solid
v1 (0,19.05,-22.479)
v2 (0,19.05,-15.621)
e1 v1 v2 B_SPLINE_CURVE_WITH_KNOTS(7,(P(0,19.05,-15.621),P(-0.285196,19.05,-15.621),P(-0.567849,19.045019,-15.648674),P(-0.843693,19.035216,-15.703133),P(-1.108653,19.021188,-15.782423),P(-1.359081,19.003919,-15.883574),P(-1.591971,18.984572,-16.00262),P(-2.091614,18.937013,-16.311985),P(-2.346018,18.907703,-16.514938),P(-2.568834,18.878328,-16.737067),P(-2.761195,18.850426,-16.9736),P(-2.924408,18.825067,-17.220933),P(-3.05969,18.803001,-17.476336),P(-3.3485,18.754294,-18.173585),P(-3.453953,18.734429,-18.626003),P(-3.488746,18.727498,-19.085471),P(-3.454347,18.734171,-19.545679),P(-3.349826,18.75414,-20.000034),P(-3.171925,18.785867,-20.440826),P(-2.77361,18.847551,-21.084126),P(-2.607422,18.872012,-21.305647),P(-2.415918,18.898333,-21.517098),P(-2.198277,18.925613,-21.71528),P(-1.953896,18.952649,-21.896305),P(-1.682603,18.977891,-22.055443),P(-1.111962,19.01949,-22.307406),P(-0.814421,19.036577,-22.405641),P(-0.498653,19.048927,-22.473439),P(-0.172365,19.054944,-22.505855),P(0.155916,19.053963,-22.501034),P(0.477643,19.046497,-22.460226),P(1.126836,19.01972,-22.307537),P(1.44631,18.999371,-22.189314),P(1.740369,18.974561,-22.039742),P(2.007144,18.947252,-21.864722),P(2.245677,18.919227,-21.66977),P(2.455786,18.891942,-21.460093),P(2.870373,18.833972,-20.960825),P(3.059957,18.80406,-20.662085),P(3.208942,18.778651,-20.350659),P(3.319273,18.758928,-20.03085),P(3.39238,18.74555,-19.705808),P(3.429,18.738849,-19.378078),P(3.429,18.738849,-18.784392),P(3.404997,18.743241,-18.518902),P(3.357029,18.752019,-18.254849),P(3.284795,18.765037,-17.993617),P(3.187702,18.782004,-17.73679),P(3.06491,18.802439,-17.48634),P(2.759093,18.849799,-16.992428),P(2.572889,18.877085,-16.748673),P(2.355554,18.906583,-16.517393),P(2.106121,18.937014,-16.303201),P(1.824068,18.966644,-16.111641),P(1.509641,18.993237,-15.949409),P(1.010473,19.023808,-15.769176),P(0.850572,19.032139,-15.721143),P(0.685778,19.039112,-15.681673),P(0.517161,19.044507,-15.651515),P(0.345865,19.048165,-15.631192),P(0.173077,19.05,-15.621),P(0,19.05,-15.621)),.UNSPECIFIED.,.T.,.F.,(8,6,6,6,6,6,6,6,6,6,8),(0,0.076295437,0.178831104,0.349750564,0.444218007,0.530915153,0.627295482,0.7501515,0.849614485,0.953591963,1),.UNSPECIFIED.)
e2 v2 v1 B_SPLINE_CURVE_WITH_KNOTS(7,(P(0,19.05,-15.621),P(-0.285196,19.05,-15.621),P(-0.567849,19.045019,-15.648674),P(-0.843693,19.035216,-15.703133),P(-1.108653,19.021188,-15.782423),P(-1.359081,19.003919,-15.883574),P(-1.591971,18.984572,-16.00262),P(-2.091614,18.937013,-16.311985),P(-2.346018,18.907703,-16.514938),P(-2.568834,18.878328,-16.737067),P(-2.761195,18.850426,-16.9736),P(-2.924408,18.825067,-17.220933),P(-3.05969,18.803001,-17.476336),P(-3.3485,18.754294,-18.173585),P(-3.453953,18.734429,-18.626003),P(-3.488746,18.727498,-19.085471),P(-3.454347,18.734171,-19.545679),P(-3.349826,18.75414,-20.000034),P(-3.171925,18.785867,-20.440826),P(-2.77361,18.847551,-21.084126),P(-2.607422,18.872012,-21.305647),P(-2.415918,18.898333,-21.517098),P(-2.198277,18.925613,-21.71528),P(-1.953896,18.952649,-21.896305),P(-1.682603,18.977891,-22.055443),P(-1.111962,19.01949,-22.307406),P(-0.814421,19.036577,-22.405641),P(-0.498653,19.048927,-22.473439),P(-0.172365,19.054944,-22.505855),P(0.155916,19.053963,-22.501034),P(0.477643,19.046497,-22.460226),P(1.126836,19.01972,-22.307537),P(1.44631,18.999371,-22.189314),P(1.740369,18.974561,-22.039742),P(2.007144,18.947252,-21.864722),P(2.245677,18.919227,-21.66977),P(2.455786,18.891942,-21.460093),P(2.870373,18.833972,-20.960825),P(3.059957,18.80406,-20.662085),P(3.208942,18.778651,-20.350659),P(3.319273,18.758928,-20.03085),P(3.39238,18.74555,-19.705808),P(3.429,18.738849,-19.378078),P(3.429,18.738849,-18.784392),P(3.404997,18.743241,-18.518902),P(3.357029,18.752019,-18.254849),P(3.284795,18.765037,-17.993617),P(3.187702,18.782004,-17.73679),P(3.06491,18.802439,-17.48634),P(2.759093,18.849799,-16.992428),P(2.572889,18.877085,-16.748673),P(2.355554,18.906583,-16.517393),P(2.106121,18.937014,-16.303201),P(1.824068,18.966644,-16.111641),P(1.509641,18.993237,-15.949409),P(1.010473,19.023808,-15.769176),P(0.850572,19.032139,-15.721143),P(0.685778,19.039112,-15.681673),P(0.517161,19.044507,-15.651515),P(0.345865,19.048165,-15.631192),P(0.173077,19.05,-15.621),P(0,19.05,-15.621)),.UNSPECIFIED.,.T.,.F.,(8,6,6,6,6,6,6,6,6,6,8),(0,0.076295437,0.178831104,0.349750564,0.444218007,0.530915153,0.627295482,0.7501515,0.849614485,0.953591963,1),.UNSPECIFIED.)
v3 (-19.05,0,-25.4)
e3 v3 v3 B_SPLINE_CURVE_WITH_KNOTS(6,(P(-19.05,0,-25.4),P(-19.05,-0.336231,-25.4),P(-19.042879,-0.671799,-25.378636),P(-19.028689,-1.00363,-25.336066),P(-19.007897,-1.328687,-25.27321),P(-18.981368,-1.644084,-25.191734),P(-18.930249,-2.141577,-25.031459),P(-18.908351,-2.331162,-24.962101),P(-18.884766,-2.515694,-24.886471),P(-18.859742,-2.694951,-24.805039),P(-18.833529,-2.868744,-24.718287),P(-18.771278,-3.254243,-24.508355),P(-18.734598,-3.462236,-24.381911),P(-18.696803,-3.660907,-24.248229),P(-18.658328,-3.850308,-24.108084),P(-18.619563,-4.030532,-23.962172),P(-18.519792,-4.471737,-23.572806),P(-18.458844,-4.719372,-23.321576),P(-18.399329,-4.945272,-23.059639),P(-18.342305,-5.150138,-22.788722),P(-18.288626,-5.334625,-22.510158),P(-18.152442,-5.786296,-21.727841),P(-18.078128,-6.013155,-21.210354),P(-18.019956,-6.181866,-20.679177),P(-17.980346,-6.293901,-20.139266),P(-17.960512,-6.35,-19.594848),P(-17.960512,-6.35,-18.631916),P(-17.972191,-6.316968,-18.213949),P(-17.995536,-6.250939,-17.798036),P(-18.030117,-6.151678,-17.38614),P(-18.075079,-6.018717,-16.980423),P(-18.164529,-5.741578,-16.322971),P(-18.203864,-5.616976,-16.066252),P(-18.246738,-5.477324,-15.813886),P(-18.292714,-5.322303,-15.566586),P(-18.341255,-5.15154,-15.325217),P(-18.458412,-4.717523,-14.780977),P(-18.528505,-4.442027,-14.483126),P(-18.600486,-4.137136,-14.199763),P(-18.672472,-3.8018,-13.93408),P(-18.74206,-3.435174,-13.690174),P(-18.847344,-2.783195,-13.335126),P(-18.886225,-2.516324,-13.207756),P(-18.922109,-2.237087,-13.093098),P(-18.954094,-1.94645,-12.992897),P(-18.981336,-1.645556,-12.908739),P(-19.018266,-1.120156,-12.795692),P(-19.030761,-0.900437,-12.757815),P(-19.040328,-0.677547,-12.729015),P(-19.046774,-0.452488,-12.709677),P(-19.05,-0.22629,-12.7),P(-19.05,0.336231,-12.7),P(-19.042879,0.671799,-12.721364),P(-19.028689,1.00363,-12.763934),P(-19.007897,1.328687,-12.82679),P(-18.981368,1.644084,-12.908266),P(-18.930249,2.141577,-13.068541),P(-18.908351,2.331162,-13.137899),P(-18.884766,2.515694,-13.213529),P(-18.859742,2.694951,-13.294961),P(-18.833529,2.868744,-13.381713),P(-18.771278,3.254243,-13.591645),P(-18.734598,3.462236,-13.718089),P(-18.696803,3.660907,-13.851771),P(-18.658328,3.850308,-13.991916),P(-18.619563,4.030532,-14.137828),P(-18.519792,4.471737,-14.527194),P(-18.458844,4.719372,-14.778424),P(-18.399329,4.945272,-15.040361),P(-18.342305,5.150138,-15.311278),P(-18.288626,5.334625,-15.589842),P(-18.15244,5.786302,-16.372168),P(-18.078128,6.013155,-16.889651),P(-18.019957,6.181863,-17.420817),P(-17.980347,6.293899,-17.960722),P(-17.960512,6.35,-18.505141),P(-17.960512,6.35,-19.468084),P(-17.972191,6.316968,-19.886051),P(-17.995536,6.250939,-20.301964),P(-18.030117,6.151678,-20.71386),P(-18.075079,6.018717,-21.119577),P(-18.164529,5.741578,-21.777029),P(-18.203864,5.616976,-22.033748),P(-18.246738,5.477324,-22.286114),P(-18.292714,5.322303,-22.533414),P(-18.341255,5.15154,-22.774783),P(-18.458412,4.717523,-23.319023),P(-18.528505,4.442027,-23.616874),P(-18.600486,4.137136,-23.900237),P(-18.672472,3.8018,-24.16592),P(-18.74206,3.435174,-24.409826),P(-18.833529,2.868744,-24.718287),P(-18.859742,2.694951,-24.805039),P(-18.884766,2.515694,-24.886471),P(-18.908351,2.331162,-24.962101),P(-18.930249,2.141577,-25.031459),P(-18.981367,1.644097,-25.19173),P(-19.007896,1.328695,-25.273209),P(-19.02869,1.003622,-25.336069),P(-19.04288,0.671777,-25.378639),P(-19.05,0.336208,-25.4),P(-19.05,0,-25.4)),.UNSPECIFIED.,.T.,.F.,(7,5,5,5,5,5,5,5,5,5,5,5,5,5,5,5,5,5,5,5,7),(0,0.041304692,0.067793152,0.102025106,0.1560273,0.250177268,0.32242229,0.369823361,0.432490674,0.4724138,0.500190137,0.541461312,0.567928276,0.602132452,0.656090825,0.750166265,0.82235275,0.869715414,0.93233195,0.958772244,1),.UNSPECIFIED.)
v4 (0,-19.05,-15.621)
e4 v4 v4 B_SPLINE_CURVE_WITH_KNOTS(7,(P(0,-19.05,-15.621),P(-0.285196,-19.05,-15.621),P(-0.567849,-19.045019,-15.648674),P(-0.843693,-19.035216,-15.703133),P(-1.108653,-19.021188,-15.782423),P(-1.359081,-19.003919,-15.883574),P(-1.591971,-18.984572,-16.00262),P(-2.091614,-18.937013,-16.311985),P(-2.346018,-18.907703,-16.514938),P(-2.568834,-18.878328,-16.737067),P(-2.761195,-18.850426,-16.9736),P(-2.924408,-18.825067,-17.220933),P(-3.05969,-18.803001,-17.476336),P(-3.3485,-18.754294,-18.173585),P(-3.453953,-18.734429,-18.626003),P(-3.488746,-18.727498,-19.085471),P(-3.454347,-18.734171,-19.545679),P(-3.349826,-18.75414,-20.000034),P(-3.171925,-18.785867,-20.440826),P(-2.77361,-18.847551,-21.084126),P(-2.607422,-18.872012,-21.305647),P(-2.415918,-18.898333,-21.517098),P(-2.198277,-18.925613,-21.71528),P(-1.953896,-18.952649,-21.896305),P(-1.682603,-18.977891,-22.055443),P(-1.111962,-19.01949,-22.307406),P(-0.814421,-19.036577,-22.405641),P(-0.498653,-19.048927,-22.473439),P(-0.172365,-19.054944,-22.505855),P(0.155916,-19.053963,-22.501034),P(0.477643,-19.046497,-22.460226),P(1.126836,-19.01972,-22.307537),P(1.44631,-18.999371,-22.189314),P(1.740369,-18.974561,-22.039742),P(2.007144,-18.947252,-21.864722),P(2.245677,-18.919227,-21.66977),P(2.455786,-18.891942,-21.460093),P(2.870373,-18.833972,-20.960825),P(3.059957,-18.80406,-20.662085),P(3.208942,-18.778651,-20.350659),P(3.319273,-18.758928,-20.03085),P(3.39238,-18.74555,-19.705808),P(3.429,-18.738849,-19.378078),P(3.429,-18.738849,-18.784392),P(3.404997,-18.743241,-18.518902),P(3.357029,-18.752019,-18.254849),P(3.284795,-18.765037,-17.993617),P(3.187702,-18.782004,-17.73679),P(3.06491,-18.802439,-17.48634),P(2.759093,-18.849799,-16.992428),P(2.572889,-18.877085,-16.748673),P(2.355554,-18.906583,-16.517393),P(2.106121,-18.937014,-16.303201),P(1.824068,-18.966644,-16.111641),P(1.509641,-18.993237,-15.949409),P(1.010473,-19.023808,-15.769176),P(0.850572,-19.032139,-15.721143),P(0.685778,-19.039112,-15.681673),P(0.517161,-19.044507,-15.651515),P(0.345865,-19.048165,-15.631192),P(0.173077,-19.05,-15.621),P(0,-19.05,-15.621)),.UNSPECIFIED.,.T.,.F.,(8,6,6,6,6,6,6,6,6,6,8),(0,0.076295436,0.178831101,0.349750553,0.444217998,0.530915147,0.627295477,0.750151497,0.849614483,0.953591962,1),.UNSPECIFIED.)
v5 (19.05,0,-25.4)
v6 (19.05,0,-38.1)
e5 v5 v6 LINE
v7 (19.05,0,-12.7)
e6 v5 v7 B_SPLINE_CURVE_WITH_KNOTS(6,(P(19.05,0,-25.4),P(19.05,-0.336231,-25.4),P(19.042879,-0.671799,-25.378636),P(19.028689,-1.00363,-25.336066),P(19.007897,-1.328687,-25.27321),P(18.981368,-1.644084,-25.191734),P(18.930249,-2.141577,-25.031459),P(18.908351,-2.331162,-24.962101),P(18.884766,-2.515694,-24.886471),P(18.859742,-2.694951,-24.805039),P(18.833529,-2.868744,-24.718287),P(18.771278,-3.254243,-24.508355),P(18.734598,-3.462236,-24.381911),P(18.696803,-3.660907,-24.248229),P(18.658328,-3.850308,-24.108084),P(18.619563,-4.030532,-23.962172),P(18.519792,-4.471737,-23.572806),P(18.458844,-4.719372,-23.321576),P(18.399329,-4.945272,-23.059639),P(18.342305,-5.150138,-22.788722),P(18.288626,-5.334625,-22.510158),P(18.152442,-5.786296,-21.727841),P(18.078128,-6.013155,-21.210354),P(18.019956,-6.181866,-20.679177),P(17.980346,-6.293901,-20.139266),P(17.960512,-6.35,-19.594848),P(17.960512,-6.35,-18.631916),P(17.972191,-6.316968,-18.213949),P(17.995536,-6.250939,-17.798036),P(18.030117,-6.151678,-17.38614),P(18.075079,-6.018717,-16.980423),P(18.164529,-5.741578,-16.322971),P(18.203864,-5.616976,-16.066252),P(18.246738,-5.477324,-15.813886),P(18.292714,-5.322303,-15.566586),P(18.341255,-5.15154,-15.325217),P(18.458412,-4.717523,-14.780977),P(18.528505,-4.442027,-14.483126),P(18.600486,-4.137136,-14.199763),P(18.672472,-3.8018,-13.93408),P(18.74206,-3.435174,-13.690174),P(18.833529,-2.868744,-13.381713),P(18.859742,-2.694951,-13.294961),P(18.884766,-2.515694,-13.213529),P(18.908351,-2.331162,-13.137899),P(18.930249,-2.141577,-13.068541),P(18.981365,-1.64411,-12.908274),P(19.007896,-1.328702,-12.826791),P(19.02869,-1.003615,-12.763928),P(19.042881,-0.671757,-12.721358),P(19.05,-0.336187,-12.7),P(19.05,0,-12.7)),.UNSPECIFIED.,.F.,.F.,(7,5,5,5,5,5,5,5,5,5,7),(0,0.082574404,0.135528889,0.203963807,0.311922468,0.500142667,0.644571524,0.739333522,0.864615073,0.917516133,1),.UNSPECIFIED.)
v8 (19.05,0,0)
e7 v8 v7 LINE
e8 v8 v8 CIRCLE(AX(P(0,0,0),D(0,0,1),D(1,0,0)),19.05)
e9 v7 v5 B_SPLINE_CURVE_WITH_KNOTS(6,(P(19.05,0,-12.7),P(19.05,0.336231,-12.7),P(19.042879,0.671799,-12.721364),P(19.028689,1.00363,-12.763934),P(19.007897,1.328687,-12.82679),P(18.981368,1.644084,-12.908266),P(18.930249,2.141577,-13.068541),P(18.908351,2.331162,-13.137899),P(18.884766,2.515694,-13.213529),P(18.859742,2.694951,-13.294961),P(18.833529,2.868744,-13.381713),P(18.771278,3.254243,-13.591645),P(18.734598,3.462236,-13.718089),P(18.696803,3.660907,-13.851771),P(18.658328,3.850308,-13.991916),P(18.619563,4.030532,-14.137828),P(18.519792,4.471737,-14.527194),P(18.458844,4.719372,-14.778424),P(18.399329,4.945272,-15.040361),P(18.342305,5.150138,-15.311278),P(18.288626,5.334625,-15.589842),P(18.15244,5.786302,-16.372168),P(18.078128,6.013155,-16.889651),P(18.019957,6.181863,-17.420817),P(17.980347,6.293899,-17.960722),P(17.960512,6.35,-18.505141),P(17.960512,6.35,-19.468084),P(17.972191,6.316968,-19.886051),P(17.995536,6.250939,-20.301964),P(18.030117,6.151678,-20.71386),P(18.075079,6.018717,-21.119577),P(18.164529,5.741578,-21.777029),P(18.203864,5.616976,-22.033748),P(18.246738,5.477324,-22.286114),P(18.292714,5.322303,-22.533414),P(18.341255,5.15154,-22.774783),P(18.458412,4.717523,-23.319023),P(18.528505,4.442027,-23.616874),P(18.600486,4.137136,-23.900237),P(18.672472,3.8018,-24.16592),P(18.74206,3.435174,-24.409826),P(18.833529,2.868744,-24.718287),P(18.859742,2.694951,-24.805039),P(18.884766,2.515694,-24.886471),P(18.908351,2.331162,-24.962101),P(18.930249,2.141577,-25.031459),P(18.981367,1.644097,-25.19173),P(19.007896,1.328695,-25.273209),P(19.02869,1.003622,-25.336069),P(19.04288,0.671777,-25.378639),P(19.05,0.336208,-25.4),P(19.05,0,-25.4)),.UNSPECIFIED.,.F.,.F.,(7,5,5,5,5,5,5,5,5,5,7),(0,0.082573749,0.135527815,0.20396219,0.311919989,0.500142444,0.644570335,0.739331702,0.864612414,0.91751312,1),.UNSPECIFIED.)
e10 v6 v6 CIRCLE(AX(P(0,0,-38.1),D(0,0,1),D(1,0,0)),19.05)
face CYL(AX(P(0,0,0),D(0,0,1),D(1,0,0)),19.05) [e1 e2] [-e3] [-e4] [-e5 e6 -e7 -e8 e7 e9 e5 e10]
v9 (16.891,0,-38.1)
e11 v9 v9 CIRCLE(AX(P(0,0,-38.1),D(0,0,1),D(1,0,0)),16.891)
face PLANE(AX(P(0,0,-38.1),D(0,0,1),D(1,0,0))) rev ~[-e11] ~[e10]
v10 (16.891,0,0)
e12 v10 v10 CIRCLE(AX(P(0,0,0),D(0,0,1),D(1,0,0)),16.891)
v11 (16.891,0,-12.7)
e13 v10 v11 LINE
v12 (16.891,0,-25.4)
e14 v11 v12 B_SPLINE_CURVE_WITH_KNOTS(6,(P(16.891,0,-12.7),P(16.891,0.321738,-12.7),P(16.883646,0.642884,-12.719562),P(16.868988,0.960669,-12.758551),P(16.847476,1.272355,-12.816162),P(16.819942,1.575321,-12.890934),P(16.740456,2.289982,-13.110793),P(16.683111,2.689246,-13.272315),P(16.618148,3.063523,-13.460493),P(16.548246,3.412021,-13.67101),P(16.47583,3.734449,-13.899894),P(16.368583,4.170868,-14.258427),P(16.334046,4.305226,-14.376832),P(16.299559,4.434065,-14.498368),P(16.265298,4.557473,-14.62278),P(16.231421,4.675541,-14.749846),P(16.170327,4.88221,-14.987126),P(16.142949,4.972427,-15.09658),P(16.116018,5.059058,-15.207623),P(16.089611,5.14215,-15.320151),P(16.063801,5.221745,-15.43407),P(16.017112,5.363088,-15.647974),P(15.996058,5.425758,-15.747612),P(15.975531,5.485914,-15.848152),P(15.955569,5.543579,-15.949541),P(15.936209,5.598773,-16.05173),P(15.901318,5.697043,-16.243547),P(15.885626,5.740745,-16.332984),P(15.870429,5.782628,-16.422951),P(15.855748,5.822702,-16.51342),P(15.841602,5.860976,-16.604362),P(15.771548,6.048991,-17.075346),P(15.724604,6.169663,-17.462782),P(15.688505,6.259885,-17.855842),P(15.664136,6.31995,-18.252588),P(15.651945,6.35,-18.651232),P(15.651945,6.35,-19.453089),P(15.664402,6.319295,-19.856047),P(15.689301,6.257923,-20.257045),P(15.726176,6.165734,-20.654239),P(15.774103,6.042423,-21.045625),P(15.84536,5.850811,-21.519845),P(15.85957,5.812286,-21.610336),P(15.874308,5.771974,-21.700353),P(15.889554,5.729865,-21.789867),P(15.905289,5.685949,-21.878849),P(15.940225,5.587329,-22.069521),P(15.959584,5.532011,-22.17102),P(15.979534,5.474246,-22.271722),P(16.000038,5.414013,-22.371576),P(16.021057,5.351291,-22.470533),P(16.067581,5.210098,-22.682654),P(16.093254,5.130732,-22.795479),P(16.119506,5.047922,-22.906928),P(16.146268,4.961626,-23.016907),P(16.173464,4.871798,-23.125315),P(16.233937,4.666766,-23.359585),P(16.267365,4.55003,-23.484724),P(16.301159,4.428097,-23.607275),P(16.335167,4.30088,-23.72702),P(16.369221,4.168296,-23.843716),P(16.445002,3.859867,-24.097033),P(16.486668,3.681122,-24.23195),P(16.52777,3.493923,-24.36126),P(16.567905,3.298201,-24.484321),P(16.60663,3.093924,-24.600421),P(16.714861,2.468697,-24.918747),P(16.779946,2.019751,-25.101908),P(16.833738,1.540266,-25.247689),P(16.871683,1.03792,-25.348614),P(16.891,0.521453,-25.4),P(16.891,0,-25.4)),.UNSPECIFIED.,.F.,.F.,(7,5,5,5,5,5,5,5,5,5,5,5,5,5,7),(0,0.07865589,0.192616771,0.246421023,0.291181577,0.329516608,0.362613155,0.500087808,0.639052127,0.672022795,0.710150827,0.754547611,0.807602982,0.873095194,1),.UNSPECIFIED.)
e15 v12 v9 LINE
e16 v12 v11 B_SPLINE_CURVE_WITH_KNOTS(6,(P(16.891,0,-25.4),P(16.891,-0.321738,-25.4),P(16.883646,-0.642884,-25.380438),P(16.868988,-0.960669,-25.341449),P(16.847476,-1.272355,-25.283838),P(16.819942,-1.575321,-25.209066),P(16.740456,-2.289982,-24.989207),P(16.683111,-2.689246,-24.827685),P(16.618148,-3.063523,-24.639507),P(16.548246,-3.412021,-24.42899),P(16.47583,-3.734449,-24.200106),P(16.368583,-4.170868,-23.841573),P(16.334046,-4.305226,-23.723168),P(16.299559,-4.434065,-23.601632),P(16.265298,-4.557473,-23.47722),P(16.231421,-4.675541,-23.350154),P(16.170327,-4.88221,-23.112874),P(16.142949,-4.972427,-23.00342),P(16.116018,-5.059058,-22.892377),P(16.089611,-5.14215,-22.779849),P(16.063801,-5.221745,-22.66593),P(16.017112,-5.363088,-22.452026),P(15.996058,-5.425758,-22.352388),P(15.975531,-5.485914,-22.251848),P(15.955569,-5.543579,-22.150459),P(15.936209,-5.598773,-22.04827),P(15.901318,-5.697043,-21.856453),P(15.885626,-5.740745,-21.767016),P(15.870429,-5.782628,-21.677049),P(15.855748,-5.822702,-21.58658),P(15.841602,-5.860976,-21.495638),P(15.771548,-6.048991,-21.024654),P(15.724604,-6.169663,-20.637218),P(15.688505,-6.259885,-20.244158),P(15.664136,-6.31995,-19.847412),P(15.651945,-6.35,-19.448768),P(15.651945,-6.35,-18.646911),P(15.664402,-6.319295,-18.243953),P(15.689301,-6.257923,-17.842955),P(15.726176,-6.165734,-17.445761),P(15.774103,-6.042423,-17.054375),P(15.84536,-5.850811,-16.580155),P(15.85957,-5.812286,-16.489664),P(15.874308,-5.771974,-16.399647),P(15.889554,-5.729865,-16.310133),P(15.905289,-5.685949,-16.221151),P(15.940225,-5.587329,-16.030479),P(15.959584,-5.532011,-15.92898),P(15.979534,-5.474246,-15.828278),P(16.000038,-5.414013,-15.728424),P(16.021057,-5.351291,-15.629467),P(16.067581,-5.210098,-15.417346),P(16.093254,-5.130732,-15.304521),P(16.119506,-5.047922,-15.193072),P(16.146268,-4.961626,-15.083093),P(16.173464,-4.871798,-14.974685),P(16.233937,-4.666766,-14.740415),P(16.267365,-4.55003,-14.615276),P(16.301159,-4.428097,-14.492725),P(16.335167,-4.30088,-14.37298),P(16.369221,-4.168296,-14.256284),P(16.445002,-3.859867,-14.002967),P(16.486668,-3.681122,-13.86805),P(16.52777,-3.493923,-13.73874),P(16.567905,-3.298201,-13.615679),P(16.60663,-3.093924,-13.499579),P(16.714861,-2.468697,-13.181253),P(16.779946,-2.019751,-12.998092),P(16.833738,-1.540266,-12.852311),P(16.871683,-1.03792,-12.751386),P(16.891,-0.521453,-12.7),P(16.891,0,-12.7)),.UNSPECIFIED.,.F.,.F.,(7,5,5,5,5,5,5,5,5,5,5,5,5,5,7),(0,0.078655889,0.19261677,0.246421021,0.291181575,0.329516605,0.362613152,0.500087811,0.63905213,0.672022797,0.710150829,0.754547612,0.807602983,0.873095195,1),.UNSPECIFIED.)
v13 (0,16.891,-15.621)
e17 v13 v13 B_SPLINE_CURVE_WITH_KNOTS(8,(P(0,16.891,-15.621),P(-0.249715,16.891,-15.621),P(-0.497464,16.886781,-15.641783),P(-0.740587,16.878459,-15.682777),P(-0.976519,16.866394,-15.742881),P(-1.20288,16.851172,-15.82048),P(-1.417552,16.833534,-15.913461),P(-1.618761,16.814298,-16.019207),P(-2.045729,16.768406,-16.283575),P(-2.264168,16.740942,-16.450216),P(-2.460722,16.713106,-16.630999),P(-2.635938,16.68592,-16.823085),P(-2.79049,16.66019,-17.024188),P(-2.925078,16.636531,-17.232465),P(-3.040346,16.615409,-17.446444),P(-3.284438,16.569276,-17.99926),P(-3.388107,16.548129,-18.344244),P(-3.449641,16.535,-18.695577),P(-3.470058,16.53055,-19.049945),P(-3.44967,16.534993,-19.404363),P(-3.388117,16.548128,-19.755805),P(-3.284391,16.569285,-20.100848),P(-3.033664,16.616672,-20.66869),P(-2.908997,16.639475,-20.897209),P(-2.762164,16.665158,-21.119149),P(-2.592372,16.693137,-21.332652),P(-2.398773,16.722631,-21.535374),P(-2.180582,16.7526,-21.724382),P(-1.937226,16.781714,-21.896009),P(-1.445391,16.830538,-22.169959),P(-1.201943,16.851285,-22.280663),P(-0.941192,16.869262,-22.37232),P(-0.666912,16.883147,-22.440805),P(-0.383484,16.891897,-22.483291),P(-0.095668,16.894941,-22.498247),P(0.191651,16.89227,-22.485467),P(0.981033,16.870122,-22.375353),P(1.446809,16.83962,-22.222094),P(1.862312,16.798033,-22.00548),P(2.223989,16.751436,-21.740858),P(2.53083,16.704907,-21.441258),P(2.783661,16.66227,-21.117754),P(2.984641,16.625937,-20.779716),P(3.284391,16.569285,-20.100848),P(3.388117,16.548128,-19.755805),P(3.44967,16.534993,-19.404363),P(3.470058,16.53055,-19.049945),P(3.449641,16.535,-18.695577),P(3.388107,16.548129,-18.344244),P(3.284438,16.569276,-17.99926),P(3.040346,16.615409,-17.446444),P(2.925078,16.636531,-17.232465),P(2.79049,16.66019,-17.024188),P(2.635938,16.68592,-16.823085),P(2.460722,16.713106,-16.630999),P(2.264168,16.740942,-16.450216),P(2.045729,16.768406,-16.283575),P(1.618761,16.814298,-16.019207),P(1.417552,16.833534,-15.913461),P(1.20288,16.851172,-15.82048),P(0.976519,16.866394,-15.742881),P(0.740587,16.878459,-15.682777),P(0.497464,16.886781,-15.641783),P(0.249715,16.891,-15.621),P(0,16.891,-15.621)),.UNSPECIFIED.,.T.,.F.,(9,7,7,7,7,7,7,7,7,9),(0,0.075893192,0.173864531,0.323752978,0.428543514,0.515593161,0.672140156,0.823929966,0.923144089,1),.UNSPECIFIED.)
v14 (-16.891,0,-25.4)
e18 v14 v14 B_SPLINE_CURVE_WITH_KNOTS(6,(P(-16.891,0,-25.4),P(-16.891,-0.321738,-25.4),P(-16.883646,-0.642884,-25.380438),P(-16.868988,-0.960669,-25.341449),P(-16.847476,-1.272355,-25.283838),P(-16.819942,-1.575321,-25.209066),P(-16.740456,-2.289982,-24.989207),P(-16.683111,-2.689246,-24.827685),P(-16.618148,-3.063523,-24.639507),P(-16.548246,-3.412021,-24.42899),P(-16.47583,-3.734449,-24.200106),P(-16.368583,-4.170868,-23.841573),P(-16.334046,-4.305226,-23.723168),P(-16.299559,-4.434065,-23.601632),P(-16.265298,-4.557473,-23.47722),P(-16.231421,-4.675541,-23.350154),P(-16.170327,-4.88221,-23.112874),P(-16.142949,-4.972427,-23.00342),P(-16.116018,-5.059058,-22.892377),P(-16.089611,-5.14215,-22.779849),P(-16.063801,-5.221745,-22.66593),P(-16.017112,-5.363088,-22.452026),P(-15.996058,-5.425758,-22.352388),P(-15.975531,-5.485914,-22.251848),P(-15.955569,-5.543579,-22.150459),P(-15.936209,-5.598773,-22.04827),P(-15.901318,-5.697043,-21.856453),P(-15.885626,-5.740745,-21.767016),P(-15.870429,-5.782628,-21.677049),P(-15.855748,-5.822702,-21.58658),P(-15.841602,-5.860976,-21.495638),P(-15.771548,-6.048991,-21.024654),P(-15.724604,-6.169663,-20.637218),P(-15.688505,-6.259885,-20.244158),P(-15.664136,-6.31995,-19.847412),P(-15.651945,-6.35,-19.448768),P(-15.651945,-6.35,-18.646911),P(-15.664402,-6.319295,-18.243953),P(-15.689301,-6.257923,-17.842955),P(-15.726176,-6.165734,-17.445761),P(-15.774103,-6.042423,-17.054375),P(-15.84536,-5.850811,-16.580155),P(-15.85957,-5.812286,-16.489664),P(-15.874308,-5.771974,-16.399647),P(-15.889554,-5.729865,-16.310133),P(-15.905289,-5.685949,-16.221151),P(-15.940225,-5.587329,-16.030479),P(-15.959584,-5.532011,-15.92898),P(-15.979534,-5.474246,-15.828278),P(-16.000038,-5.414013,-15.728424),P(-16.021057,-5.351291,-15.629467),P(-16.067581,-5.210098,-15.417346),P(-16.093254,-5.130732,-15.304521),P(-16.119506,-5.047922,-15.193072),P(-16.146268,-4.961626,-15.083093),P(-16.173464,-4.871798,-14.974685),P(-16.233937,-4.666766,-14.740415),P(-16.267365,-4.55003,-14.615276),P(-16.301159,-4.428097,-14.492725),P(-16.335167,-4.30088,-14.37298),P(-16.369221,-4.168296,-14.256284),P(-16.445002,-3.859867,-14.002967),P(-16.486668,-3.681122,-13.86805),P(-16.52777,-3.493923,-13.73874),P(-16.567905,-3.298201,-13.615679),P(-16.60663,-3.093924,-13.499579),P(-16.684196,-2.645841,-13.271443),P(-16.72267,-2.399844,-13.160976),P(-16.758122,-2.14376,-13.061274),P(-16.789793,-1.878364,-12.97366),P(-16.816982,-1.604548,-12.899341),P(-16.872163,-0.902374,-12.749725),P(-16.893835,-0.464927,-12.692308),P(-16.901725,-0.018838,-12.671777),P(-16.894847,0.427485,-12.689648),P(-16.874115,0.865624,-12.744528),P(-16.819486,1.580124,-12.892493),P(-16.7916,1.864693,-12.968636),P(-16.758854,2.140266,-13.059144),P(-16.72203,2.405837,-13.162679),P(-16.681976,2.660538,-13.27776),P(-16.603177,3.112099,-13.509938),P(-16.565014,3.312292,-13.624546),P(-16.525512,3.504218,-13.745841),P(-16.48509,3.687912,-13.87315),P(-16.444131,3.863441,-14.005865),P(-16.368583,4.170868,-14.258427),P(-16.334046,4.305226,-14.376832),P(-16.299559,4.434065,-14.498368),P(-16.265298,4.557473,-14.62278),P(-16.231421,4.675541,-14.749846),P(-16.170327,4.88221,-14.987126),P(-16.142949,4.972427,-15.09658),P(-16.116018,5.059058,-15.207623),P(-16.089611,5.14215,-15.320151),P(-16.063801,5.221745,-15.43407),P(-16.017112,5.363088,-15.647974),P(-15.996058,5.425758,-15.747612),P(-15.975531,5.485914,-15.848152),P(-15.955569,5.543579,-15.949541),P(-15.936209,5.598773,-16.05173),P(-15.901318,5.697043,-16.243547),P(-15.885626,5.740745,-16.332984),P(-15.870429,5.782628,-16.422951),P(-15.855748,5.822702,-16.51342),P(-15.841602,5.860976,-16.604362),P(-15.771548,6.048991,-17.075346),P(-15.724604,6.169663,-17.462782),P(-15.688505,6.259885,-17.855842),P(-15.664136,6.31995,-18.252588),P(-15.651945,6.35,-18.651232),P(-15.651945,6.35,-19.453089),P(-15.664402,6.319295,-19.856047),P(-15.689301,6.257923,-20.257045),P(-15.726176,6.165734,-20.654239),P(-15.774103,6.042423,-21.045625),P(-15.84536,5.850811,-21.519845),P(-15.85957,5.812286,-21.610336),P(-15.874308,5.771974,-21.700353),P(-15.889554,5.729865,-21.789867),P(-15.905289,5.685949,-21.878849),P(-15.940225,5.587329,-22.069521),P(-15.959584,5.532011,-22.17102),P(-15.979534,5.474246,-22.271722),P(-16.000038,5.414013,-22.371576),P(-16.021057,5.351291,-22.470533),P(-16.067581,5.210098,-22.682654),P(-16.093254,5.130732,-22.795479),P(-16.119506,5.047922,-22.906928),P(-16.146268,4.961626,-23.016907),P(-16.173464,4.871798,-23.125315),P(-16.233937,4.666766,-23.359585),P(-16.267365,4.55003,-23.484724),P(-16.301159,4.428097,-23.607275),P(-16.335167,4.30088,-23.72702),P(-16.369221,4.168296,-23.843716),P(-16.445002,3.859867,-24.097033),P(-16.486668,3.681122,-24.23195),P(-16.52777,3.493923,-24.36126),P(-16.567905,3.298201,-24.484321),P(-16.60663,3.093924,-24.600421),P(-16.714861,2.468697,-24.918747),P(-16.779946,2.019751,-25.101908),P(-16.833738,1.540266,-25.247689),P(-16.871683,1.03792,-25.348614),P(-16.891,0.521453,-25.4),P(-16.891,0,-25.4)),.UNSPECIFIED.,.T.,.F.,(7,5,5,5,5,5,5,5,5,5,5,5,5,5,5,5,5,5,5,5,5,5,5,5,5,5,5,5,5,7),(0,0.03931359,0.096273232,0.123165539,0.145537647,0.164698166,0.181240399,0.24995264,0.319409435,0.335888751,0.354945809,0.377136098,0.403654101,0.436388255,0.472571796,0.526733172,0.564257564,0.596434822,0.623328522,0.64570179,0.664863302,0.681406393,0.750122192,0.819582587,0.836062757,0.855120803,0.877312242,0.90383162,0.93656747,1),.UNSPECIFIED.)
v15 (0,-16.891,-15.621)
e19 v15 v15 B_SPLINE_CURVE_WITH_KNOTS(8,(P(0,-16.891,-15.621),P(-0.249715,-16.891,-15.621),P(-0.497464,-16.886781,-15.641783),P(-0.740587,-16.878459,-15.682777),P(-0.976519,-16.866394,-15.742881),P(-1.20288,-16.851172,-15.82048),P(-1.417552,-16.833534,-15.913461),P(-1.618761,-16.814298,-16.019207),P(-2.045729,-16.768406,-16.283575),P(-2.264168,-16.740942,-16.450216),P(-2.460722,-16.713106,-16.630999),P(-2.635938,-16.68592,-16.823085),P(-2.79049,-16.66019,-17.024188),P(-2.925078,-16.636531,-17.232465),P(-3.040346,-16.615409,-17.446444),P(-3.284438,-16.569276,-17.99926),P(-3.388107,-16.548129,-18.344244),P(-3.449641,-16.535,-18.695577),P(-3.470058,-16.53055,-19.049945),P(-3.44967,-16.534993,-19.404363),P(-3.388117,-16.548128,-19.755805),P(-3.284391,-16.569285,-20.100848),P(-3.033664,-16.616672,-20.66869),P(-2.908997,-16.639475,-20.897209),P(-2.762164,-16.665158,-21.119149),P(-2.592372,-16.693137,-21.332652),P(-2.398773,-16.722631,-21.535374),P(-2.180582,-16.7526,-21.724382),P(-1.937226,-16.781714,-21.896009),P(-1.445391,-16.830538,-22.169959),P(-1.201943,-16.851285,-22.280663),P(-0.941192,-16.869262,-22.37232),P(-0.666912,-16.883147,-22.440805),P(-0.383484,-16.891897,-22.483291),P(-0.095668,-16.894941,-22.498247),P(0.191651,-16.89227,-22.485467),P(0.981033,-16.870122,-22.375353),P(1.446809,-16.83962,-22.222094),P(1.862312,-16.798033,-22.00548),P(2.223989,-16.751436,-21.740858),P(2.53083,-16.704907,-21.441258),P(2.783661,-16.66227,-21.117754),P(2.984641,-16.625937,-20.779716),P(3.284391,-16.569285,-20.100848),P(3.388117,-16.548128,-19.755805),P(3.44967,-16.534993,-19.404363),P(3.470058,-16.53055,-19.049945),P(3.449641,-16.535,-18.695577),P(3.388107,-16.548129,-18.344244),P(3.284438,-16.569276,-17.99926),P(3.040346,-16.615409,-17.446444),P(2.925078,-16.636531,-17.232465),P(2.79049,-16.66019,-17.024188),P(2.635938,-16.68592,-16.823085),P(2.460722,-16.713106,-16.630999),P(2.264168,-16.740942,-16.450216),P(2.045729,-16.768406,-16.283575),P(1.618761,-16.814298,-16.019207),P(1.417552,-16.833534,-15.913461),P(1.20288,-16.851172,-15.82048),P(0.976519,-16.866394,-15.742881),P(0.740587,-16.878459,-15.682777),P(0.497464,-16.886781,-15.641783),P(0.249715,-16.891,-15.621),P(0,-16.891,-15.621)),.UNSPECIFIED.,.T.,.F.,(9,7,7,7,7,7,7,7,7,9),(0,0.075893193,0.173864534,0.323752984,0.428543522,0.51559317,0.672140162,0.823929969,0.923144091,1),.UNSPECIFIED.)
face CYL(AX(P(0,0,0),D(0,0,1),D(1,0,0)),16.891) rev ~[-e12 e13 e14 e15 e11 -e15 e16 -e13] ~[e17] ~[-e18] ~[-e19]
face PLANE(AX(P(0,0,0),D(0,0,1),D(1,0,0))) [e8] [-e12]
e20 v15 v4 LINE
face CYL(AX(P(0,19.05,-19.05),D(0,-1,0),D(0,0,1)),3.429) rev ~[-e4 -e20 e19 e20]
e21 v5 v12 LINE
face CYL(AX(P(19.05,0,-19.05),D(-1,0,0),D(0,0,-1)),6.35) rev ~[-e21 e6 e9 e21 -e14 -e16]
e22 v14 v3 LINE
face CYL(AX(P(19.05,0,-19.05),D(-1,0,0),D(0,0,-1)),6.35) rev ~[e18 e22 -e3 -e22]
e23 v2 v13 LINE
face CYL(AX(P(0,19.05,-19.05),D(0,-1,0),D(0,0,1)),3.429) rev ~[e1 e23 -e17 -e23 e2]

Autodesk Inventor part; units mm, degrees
ref_plane "XY Plane" through (0, 0, 0) normal (0, 0, 1) x (1, 0, 0)
sketch "Sketch1" plane through (0, 0, 0) normal (0, 0, 1) x (1, 0, 0)
  circle A0 centre (0, 0) radius 19.05
  circle A1 centre (0, 0) radius 16.891
  dimension "d0" = 38.1
  dimension "d2" = 33.782
extrude "Extrusion1" add sketch "Sketch1" against normal blind 38.1
ref_plane "Work Plane1" through (19.05, 0, 0) normal (1, 0, 0) x (0, 1, 0)
sketch "Sketch2" plane through (19.05, 0, 0) normal (1, 0, 0) x (0, 1, 0)
  line L0 (19.05, 0) -> (19.05, -38.1) projected
  point P0 (0, 0)
  point P1 (0, -19.05)
  point P2 (19.05, -19.05)
hole "Hole1" at (19.05, 0, -19.05) direction (-1, 0, 0) diameter 12.7 end through all
ref_plane "Work Plane2" through (0, 19.05, 0) normal (0, 1, 0) x (-1, 0, 0)
sketch "Sketch3" plane through (0, 19.05, 0) normal (0, 1, 0) x (-1, 0, 0)
  line L0 (19.05, 0) -> (19.05, -38.1) projected
  line L1 (-19.05, 0) -> (19.05, 0) projected
  point P0 (0, 0)
  point P1 (0, -19.05)
  point P2 (0, 0)
  point P3 (19.05, -19.05)
hole "Hole2" at (0, 19.05, -19.05) direction (0, -1, 0) diameter 6.858 end through all
properties part number "GE-13026-01" material "Steel"
